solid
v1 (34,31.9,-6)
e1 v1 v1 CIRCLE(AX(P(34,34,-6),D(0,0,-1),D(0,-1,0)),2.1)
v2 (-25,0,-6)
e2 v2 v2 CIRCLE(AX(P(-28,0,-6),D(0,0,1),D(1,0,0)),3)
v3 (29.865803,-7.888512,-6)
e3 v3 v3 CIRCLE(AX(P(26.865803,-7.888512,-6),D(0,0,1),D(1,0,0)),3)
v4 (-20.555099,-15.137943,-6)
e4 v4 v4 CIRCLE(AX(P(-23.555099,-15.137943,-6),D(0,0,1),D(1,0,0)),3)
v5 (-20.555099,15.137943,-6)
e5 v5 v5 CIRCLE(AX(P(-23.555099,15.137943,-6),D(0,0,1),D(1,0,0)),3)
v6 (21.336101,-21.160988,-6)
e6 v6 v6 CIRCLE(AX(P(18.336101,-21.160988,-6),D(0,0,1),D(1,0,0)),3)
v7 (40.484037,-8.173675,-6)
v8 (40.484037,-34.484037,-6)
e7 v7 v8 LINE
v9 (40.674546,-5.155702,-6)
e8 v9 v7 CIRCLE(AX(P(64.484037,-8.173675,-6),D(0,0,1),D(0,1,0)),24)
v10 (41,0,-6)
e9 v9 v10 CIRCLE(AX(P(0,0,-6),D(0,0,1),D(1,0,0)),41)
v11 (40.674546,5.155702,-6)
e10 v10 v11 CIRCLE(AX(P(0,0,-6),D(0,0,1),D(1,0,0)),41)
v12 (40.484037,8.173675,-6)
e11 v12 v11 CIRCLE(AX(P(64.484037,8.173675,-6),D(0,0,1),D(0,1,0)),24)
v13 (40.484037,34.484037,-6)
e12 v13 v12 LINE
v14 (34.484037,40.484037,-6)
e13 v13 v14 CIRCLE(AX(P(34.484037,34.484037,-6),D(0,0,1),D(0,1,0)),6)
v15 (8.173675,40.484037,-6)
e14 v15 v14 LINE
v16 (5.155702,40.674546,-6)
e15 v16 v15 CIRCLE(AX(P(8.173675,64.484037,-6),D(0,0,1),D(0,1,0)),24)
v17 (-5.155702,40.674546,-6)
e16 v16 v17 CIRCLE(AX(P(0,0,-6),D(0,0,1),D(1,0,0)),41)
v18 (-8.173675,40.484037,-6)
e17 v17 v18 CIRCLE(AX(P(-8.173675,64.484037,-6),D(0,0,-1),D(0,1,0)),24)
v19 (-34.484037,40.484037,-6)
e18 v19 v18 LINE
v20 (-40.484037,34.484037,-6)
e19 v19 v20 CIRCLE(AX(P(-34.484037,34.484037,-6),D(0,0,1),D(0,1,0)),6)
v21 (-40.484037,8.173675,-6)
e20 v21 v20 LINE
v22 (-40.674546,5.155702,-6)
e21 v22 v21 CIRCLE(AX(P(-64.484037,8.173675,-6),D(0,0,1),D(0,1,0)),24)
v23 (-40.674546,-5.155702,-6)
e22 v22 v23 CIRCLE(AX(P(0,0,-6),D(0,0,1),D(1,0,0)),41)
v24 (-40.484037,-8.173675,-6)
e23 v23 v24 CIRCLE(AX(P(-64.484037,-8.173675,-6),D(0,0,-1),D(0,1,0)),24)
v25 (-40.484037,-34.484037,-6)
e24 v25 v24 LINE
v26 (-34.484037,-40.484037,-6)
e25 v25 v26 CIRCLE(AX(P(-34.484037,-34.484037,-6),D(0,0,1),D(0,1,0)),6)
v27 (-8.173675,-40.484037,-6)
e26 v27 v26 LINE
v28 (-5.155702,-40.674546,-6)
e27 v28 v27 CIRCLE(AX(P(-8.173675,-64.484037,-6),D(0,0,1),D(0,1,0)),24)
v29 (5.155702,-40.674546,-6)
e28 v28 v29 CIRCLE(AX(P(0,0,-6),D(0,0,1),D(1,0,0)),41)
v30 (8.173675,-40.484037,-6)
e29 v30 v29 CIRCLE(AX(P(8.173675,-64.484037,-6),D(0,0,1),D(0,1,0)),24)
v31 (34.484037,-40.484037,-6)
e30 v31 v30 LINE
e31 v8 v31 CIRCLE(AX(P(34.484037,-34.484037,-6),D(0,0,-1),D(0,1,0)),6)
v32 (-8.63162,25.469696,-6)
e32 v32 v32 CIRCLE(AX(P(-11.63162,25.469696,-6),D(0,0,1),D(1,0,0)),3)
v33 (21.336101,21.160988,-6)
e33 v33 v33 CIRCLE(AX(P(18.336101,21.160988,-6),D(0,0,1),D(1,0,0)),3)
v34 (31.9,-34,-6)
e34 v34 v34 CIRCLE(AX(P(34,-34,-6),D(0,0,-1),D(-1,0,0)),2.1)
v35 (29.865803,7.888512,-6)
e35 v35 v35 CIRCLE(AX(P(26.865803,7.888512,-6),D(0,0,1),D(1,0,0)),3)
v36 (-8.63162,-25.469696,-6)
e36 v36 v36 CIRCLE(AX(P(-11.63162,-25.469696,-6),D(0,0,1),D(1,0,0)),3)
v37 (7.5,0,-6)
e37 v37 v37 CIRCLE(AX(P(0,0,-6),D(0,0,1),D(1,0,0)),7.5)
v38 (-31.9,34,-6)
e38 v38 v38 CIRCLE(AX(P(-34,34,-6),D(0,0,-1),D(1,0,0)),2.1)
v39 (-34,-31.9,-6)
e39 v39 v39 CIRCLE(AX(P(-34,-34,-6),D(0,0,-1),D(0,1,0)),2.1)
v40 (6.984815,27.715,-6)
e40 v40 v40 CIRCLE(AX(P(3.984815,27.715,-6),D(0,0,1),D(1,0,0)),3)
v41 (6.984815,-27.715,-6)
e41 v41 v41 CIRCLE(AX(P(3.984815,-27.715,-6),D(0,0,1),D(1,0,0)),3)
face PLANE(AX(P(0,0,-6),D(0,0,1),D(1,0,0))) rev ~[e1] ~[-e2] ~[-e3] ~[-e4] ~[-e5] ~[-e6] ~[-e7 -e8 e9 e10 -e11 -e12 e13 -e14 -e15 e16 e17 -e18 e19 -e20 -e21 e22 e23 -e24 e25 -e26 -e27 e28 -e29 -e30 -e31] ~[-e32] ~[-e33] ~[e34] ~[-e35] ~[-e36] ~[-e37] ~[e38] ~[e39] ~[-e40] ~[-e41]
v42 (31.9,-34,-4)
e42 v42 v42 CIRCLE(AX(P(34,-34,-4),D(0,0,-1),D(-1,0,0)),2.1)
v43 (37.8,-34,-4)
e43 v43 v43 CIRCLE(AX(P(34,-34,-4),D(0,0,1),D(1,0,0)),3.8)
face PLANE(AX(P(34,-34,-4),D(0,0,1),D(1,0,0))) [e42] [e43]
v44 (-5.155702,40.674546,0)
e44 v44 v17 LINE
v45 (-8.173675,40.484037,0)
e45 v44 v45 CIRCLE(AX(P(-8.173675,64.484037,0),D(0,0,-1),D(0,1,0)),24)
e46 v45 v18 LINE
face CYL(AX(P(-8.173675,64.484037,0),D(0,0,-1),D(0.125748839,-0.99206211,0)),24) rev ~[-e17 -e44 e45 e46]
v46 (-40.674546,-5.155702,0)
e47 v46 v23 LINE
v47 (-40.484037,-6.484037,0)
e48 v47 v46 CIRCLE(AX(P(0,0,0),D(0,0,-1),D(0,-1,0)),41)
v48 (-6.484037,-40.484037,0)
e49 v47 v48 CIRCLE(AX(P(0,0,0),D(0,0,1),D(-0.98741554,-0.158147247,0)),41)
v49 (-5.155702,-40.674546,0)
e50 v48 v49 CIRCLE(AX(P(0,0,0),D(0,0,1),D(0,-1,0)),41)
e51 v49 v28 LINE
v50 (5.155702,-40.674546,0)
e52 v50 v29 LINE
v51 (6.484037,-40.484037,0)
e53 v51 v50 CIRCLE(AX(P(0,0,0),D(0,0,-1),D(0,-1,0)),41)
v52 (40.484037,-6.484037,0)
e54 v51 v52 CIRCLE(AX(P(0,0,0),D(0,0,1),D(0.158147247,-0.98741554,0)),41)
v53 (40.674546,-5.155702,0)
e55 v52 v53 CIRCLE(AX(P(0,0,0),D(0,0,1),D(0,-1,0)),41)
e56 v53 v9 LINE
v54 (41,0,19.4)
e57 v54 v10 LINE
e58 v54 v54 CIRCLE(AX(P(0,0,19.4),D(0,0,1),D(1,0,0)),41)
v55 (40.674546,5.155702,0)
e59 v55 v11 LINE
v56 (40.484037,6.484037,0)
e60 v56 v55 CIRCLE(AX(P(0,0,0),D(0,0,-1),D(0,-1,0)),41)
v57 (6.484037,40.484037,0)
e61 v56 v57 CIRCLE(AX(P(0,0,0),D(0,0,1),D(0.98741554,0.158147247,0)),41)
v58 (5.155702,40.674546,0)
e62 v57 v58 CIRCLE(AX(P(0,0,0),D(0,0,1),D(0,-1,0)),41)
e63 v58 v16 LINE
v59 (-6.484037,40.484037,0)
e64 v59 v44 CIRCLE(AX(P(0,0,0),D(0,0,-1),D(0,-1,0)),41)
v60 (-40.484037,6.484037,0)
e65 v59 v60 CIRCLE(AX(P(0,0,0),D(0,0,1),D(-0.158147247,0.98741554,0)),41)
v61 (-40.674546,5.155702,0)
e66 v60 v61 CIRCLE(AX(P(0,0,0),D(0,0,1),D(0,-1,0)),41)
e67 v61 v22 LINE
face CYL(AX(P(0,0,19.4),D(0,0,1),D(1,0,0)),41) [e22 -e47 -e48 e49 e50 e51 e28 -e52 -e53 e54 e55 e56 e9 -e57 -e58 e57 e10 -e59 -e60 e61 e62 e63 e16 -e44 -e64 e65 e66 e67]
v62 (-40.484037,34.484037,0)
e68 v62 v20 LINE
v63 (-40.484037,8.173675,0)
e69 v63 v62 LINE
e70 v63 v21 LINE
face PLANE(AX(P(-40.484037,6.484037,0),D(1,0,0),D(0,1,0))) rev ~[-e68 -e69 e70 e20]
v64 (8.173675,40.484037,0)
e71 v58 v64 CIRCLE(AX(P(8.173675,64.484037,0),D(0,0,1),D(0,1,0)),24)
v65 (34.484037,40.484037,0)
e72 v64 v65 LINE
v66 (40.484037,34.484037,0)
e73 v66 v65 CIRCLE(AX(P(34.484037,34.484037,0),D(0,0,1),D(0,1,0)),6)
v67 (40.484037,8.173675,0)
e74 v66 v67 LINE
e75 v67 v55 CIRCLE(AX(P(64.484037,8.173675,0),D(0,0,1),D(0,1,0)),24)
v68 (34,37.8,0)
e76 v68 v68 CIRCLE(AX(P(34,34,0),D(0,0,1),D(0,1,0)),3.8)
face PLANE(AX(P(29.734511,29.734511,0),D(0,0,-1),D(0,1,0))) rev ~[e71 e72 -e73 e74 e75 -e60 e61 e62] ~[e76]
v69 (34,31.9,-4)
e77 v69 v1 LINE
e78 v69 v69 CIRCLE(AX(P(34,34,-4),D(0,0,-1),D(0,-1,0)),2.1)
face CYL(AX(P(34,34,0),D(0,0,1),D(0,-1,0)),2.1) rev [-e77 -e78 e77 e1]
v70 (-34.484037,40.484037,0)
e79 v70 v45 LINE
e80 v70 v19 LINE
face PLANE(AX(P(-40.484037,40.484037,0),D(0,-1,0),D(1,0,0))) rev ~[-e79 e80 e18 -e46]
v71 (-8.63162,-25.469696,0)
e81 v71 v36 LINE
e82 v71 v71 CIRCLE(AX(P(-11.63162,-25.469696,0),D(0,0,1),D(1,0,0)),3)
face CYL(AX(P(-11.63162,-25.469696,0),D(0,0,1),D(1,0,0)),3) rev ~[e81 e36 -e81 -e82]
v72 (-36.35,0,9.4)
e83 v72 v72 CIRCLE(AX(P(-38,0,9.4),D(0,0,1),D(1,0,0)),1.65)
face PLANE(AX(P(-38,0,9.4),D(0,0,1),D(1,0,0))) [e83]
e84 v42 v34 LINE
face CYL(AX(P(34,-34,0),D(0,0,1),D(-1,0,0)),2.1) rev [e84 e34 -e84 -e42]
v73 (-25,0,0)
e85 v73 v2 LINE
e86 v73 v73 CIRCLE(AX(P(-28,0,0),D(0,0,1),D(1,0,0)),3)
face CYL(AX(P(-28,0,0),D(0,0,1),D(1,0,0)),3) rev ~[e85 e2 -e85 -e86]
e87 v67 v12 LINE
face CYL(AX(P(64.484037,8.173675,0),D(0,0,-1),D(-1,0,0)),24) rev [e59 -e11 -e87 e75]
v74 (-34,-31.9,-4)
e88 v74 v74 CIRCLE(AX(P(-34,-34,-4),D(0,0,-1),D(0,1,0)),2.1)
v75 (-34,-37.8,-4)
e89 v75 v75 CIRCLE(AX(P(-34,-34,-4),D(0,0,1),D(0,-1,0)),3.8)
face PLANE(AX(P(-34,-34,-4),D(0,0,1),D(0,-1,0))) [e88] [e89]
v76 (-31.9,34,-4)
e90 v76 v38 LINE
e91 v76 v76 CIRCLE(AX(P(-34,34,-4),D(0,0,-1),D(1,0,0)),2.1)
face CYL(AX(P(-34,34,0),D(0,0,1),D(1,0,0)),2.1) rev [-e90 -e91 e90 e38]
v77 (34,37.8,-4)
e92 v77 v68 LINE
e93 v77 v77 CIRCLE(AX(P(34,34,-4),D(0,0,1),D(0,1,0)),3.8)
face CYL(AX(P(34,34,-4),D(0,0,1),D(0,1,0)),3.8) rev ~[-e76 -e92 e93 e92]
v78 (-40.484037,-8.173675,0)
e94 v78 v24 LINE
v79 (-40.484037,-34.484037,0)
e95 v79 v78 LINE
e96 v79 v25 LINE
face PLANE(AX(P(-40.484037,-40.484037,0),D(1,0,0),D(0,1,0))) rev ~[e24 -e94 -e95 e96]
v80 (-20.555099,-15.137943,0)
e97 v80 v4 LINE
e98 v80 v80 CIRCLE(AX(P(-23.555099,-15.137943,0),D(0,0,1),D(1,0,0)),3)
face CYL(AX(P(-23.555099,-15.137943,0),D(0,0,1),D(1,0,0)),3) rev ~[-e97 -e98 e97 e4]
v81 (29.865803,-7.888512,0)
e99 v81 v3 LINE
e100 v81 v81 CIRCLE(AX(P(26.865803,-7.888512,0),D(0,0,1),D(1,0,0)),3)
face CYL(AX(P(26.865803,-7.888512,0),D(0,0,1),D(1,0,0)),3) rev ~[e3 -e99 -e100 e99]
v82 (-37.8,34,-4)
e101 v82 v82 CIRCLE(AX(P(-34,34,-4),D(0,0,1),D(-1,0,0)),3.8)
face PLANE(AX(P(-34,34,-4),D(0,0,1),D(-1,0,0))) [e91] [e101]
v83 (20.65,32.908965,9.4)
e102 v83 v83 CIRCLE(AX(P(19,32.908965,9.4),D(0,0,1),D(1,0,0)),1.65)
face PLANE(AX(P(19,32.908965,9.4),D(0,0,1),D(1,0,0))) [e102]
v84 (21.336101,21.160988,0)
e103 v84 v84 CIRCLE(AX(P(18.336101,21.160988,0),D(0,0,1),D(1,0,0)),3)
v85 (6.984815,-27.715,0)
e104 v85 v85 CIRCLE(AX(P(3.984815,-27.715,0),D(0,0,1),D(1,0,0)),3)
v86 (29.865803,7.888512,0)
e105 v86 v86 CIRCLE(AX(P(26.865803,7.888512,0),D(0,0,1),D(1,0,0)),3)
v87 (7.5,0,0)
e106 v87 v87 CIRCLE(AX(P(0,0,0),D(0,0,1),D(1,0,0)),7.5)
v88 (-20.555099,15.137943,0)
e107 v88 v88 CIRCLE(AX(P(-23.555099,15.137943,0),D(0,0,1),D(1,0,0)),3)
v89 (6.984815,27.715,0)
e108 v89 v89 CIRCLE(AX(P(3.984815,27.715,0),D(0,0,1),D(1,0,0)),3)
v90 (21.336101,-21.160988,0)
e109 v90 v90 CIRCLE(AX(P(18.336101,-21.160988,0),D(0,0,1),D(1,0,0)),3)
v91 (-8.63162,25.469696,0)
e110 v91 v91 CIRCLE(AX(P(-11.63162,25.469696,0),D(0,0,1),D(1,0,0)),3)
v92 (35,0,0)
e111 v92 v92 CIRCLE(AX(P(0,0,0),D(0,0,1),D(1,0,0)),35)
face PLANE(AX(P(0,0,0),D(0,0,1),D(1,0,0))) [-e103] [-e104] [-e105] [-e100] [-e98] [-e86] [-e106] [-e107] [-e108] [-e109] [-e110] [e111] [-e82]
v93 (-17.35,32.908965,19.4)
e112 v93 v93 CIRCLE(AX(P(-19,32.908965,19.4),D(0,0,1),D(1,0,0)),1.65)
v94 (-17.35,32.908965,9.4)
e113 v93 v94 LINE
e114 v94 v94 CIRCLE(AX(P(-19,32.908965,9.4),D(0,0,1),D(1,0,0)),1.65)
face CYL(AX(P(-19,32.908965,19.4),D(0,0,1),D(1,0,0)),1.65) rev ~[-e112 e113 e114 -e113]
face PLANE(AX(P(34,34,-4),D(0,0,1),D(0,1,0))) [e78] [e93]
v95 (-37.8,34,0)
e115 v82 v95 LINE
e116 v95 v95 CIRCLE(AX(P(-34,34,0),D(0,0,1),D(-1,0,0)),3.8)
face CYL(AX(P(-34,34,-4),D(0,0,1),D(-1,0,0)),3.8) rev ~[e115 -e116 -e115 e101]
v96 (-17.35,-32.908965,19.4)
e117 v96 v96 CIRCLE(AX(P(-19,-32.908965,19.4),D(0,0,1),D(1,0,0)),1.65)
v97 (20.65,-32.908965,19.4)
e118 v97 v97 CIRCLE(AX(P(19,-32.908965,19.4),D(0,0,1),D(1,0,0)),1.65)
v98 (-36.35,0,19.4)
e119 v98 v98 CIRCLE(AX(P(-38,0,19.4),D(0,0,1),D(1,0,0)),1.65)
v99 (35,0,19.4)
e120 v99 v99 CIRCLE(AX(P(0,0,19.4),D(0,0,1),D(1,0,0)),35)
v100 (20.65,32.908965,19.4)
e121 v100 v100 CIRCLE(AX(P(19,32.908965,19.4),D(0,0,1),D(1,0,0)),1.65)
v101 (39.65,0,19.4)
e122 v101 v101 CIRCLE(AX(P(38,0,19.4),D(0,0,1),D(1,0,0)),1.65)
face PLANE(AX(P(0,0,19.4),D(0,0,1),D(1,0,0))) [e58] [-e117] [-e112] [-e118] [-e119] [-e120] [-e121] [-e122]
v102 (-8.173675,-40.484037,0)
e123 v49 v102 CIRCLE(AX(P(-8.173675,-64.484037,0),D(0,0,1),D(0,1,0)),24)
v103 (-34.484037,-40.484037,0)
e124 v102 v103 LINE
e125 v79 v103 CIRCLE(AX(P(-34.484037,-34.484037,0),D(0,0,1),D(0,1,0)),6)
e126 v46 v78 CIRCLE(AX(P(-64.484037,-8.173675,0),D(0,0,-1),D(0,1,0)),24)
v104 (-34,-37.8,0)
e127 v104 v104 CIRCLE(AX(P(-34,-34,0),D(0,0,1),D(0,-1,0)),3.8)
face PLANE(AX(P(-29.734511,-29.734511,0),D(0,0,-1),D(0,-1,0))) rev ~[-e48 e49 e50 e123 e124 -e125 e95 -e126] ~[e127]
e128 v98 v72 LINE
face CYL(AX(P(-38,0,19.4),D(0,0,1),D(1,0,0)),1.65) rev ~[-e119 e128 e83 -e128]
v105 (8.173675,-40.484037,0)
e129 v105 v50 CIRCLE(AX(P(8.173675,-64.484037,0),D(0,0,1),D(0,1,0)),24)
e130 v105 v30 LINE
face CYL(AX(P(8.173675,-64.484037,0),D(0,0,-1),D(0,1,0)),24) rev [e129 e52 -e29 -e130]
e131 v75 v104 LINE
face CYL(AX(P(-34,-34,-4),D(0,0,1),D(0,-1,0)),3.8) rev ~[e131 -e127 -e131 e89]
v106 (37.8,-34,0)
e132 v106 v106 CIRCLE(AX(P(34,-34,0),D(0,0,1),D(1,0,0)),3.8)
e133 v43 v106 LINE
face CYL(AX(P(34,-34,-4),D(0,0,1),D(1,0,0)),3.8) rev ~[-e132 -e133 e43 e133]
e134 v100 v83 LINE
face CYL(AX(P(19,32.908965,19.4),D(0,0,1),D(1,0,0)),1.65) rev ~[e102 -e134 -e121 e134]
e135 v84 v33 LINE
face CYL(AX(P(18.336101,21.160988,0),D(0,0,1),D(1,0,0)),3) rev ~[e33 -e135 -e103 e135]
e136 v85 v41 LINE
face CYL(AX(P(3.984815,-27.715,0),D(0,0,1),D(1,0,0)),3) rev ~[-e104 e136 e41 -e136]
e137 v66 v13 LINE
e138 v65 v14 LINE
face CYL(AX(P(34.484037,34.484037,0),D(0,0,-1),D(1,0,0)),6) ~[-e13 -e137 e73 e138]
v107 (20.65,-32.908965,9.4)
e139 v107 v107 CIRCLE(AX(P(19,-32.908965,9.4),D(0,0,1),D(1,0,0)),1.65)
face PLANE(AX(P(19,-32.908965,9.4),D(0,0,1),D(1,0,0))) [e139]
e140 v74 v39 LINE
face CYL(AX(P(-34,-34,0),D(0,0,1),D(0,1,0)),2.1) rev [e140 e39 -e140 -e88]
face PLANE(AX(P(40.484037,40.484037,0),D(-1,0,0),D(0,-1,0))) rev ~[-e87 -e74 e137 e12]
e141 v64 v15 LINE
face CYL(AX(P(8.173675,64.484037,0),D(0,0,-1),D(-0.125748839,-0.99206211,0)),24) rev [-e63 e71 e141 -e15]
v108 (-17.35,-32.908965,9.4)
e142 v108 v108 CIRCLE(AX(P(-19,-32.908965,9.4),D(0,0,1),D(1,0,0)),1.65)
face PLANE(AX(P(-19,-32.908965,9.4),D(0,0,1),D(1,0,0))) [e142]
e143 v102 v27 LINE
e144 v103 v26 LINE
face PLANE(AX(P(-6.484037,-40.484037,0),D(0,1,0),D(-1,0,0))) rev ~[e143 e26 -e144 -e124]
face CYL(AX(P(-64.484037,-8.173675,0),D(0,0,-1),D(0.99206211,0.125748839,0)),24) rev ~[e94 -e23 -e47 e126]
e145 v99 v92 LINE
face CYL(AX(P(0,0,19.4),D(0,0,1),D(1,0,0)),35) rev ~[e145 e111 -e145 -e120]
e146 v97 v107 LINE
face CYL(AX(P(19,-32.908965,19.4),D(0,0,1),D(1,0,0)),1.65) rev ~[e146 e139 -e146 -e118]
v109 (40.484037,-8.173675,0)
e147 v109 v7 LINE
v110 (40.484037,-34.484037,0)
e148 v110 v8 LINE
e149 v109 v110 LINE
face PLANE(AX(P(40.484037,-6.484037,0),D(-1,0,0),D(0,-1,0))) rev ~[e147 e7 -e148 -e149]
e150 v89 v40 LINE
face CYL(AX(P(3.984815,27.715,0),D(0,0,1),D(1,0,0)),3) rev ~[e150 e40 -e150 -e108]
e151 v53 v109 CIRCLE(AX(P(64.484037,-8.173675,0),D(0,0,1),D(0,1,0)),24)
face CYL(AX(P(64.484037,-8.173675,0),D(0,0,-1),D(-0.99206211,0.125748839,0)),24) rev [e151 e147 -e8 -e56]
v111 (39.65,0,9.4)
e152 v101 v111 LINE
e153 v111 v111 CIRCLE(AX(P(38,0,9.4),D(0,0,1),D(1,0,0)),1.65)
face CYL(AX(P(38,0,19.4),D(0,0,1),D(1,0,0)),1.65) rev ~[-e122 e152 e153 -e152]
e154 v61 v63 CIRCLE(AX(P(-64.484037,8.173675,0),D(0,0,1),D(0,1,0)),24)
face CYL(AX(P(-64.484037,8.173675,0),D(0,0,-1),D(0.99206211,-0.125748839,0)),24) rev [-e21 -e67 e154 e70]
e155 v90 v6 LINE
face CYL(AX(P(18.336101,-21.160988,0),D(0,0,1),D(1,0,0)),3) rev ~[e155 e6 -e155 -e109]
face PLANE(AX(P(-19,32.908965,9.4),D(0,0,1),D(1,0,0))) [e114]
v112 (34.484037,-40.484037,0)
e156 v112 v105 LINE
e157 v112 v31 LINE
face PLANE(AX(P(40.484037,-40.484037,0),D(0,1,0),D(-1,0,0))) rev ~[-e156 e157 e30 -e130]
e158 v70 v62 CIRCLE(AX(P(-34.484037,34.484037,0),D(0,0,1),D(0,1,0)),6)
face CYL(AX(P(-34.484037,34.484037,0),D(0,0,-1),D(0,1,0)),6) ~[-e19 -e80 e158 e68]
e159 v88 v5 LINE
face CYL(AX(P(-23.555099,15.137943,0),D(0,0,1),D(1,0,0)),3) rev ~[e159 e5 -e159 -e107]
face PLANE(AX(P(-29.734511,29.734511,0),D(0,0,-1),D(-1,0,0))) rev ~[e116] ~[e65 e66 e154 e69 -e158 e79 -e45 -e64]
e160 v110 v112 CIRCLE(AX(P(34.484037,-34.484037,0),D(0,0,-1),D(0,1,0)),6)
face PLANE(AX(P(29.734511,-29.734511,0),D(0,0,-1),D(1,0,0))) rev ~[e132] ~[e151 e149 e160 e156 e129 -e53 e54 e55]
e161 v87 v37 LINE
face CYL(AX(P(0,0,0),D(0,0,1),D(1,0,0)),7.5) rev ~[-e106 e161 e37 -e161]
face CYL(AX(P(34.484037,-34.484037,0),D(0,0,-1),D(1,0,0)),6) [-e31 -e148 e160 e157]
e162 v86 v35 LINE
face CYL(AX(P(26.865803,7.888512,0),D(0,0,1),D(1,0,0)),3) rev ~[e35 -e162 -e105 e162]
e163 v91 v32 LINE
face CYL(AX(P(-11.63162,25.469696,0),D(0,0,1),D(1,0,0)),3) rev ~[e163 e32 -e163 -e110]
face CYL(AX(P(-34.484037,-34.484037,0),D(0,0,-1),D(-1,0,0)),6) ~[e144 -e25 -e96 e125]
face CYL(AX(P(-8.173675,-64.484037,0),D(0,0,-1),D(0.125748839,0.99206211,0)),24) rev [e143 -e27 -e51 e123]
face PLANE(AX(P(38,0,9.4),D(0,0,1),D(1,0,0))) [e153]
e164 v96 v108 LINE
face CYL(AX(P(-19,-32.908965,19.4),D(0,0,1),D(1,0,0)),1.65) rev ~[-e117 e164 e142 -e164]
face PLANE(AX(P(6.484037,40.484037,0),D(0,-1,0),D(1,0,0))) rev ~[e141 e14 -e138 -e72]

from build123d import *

# Parameters (mm, degrees)
SKETCH1_R                                    = 41
SKETCH1_R_2                                  = 3
BOSS_EXTRUDE1_DEPTH                          = 6
BOSS_EXTRUDE2_START                          = 19.4
SKETCH3_R                                    = 41
SKETCH3_R_2                                  = 35
BOSS_EXTRUDE2_DEPTH                          = 19.4
SKETCH5_R                                    = 7.5
CUT_EXTRUDE1_DEPTH                           = 62.142129502
SKETCH6_R                                    = 1.65
CUT_EXTRUDE2_DEPTH                           = 10
BOSS_EXTRUDE3_START                          = -6
SKETCH7_R                                    = 2.1
BOSS_EXTRUDE3_DEPTH                          = 6
FILLET1_R                                    = 6
FILLET2_R                                    = 24
CBORE_FOR_M4_HEX_HEAD_CAP_SCREW1_D           = 4.2
CBORE_FOR_M4_HEX_HEAD_CAP_SCREW1_CBORE_D     = 7.6
CBORE_FOR_M4_HEX_HEAD_CAP_SCREW1_CBORE_DEPTH = 4
CIRPATTERN1_COUNT                            = 4
FILLET1_OF_CIRPATTERN1_R                     = 6
FILLET2_OF_CIRPATTERN1_R                     = 24


with BuildPart() as part:
    # Sketch1 → Boss-Extrude1 (new body)
    with BuildSketch(Plane(origin=(0, 0, 0), x_dir=(0, 1, 0), z_dir=(0, 0, 1))):
        with Locations(Location((0, 0, 0), (0, 0, 270))):
            Circle(SKETCH1_R)
        with Locations(Location((0, 28, 0), (0, 0, 270))):
            Circle(SKETCH1_R_2, mode=Mode.SUBTRACT)
        with Locations(Location((15.137942889, 23.555098919, 0), (0, 0, 270))):
            Circle(SKETCH1_R_2, mode=Mode.SUBTRACT)
        with Locations(Location((25.46969587, 11.631620364, 0), (0, 0, 270))):
            Circle(SKETCH1_R_2, mode=Mode.SUBTRACT)
        with Locations(Location((27.715000373, -3.984815472, 0), (0, 0, 270))):
            Circle(SKETCH1_R_2, mode=Mode.SUBTRACT)
        with Locations(Location((21.160988082, -18.33610055, 0), (0, 0, 270))):
            Circle(SKETCH1_R_2, mode=Mode.SUBTRACT)
        with Locations(Location((7.888511592, -26.865803261, 0), (0, 0, 270))):
            Circle(SKETCH1_R_2, mode=Mode.SUBTRACT)
        with Locations(Location((-7.888511592, -26.865803261, 0), (0, 0, 270))):
            Circle(SKETCH1_R_2, mode=Mode.SUBTRACT)
        with Locations(Location((-21.160988082, -18.33610055, 0), (0, 0, 270))):
            Circle(SKETCH1_R_2, mode=Mode.SUBTRACT)
        with Locations(Location((-27.715000373, -3.984815472, 0), (0, 0, 270))):
            Circle(SKETCH1_R_2, mode=Mode.SUBTRACT)
        with Locations(Location((-25.46969587, 11.631620364, 0), (0, 0, 270))):
            Circle(SKETCH1_R_2, mode=Mode.SUBTRACT)
        with Locations(Location((-15.137942889, 23.555098919, 0), (0, 0, 270))):
            Circle(SKETCH1_R_2, mode=Mode.SUBTRACT)
    extrude(amount=-BOSS_EXTRUDE1_DEPTH)

    # Sketch3 → Boss-Extrude2 (add)
    with BuildSketch(Plane.XY.offset(BOSS_EXTRUDE2_START)):
        Circle(SKETCH3_R)
        Circle(SKETCH3_R_2, mode=Mode.SUBTRACT)
    extrude(amount=-BOSS_EXTRUDE2_DEPTH)

    # Sketch5 → Cut-Extrude1 (cut, through all)
    with BuildSketch(Plane.XY):
        Circle(SKETCH5_R)
    extrude(amount=-CUT_EXTRUDE1_DEPTH, mode=Mode.SUBTRACT)

    # Sketch6 → Cut-Extrude2 (cut)
    with BuildSketch(Plane.XY.offset(19.4)):
        with Locations((-38, 0)):
            Circle(SKETCH6_R)
        with Locations((-19, 32.908965344)):
            Circle(SKETCH6_R)
        with Locations((19, 32.908965344)):
            Circle(SKETCH6_R)
        with Locations((38, 0)):
            Circle(SKETCH6_R)
        with Locations((19, -32.908965344)):
            Circle(SKETCH6_R)
        with Locations((-19, -32.908965344)):
            Circle(SKETCH6_R)
    extrude(amount=-CUT_EXTRUDE2_DEPTH, mode=Mode.SUBTRACT)

    # Sketch7 → Boss-Extrude3 (add)
    with BuildSketch(Plane(origin=(0, 0, -6), x_dir=(1, 0, 0), z_dir=(0, 0, -1)).offset(BOSS_EXTRUDE3_START)):
        with BuildLine():
            Line((40.484037132, 40.484037132), (6.484037132, 40.484037132))
            ThreePointArc((6.484037132, 40.484037132), (28.991378029, 28.991378029), (40.484037132, 6.484037132))
            Line((40.484037132, 6.484037132), (40.484037132, 40.484037132))
        make_face()
        with Locations(Location((34, 34, 0), (0, 0, 180))):
            Circle(SKETCH7_R, mode=Mode.SUBTRACT)
    boss_extrude3 = extrude(amount=BOSS_EXTRUDE3_DEPTH)

    # Fillet1
    fillet1_edges = [part.edges().sort_by_distance(p)[0] for p in [
        (40.484037132, -40.484037132, -3),
    ]]
    fillet(fillet1_edges, radius=FILLET1_R)

    # Fillet2
    fillet2_edges = [part.edges().sort_by_distance(p)[0] for p in [
        (6.484037132, -40.484037132, -3),
        (40.484037132, -6.484037132, -3),
    ]]
    fillet(fillet2_edges, radius=FILLET2_R)

    # CBORE for M4 Hex Head Cap Screw1 (through all)
    with Locations(Plane.XY):
        with Locations((34, -34)):
            cbore_for_m4_hex_head_cap_screw1 = CounterBoreHole(CBORE_FOR_M4_HEX_HEAD_CAP_SCREW1_D / 2, CBORE_FOR_M4_HEX_HEAD_CAP_SCREW1_CBORE_D / 2, CBORE_FOR_M4_HEX_HEAD_CAP_SCREW1_CBORE_DEPTH)

    # CirPattern1: Boss-Extrude3, CBORE for M4 Hex Head Cap Screw1 ×4 about axis
    cirpattern1_axis = Axis((0, 0, 0), (0, 0, 1))
    add([boss_extrude3.rotate(cirpattern1_axis, i * 360 / CIRPATTERN1_COUNT) for i in range(1, CIRPATTERN1_COUNT)])
    add([cbore_for_m4_hex_head_cap_screw1.rotate(cirpattern1_axis, i * 360 / CIRPATTERN1_COUNT) for i in range(1, CIRPATTERN1_COUNT)], mode=Mode.SUBTRACT)

    # Fillet1 of CirPattern1
    fillet1_of_cirpattern1_edges = [part.edges().sort_by_distance(p)[0] for p in [
        (40.484037132, 40.484037132, -3),
        (-40.484037132, 40.484037132, -3),
        (-40.484037132, -40.484037132, -3),
    ]]
    fillet(fillet1_of_cirpattern1_edges, radius=FILLET1_OF_CIRPATTERN1_R)

    # Fillet2 of CirPattern1
    fillet2_of_cirpattern1_edges = [part.edges().sort_by_distance(p)[0] for p in [
        (40.484037132, 6.484037132, -3),
        (6.484037132, 40.484037132, -3),
        (-6.484037132, 40.484037132, -3),
        (-40.484037132, 6.484037132, -3),
        (-40.484037132, -6.484037132, -3),
        (-6.484037132, -40.484037132, -3),
    ]]
    fillet(fillet2_of_cirpattern1_edges, radius=FILLET2_OF_CIRPATTERN1_R)


solid = part.part
